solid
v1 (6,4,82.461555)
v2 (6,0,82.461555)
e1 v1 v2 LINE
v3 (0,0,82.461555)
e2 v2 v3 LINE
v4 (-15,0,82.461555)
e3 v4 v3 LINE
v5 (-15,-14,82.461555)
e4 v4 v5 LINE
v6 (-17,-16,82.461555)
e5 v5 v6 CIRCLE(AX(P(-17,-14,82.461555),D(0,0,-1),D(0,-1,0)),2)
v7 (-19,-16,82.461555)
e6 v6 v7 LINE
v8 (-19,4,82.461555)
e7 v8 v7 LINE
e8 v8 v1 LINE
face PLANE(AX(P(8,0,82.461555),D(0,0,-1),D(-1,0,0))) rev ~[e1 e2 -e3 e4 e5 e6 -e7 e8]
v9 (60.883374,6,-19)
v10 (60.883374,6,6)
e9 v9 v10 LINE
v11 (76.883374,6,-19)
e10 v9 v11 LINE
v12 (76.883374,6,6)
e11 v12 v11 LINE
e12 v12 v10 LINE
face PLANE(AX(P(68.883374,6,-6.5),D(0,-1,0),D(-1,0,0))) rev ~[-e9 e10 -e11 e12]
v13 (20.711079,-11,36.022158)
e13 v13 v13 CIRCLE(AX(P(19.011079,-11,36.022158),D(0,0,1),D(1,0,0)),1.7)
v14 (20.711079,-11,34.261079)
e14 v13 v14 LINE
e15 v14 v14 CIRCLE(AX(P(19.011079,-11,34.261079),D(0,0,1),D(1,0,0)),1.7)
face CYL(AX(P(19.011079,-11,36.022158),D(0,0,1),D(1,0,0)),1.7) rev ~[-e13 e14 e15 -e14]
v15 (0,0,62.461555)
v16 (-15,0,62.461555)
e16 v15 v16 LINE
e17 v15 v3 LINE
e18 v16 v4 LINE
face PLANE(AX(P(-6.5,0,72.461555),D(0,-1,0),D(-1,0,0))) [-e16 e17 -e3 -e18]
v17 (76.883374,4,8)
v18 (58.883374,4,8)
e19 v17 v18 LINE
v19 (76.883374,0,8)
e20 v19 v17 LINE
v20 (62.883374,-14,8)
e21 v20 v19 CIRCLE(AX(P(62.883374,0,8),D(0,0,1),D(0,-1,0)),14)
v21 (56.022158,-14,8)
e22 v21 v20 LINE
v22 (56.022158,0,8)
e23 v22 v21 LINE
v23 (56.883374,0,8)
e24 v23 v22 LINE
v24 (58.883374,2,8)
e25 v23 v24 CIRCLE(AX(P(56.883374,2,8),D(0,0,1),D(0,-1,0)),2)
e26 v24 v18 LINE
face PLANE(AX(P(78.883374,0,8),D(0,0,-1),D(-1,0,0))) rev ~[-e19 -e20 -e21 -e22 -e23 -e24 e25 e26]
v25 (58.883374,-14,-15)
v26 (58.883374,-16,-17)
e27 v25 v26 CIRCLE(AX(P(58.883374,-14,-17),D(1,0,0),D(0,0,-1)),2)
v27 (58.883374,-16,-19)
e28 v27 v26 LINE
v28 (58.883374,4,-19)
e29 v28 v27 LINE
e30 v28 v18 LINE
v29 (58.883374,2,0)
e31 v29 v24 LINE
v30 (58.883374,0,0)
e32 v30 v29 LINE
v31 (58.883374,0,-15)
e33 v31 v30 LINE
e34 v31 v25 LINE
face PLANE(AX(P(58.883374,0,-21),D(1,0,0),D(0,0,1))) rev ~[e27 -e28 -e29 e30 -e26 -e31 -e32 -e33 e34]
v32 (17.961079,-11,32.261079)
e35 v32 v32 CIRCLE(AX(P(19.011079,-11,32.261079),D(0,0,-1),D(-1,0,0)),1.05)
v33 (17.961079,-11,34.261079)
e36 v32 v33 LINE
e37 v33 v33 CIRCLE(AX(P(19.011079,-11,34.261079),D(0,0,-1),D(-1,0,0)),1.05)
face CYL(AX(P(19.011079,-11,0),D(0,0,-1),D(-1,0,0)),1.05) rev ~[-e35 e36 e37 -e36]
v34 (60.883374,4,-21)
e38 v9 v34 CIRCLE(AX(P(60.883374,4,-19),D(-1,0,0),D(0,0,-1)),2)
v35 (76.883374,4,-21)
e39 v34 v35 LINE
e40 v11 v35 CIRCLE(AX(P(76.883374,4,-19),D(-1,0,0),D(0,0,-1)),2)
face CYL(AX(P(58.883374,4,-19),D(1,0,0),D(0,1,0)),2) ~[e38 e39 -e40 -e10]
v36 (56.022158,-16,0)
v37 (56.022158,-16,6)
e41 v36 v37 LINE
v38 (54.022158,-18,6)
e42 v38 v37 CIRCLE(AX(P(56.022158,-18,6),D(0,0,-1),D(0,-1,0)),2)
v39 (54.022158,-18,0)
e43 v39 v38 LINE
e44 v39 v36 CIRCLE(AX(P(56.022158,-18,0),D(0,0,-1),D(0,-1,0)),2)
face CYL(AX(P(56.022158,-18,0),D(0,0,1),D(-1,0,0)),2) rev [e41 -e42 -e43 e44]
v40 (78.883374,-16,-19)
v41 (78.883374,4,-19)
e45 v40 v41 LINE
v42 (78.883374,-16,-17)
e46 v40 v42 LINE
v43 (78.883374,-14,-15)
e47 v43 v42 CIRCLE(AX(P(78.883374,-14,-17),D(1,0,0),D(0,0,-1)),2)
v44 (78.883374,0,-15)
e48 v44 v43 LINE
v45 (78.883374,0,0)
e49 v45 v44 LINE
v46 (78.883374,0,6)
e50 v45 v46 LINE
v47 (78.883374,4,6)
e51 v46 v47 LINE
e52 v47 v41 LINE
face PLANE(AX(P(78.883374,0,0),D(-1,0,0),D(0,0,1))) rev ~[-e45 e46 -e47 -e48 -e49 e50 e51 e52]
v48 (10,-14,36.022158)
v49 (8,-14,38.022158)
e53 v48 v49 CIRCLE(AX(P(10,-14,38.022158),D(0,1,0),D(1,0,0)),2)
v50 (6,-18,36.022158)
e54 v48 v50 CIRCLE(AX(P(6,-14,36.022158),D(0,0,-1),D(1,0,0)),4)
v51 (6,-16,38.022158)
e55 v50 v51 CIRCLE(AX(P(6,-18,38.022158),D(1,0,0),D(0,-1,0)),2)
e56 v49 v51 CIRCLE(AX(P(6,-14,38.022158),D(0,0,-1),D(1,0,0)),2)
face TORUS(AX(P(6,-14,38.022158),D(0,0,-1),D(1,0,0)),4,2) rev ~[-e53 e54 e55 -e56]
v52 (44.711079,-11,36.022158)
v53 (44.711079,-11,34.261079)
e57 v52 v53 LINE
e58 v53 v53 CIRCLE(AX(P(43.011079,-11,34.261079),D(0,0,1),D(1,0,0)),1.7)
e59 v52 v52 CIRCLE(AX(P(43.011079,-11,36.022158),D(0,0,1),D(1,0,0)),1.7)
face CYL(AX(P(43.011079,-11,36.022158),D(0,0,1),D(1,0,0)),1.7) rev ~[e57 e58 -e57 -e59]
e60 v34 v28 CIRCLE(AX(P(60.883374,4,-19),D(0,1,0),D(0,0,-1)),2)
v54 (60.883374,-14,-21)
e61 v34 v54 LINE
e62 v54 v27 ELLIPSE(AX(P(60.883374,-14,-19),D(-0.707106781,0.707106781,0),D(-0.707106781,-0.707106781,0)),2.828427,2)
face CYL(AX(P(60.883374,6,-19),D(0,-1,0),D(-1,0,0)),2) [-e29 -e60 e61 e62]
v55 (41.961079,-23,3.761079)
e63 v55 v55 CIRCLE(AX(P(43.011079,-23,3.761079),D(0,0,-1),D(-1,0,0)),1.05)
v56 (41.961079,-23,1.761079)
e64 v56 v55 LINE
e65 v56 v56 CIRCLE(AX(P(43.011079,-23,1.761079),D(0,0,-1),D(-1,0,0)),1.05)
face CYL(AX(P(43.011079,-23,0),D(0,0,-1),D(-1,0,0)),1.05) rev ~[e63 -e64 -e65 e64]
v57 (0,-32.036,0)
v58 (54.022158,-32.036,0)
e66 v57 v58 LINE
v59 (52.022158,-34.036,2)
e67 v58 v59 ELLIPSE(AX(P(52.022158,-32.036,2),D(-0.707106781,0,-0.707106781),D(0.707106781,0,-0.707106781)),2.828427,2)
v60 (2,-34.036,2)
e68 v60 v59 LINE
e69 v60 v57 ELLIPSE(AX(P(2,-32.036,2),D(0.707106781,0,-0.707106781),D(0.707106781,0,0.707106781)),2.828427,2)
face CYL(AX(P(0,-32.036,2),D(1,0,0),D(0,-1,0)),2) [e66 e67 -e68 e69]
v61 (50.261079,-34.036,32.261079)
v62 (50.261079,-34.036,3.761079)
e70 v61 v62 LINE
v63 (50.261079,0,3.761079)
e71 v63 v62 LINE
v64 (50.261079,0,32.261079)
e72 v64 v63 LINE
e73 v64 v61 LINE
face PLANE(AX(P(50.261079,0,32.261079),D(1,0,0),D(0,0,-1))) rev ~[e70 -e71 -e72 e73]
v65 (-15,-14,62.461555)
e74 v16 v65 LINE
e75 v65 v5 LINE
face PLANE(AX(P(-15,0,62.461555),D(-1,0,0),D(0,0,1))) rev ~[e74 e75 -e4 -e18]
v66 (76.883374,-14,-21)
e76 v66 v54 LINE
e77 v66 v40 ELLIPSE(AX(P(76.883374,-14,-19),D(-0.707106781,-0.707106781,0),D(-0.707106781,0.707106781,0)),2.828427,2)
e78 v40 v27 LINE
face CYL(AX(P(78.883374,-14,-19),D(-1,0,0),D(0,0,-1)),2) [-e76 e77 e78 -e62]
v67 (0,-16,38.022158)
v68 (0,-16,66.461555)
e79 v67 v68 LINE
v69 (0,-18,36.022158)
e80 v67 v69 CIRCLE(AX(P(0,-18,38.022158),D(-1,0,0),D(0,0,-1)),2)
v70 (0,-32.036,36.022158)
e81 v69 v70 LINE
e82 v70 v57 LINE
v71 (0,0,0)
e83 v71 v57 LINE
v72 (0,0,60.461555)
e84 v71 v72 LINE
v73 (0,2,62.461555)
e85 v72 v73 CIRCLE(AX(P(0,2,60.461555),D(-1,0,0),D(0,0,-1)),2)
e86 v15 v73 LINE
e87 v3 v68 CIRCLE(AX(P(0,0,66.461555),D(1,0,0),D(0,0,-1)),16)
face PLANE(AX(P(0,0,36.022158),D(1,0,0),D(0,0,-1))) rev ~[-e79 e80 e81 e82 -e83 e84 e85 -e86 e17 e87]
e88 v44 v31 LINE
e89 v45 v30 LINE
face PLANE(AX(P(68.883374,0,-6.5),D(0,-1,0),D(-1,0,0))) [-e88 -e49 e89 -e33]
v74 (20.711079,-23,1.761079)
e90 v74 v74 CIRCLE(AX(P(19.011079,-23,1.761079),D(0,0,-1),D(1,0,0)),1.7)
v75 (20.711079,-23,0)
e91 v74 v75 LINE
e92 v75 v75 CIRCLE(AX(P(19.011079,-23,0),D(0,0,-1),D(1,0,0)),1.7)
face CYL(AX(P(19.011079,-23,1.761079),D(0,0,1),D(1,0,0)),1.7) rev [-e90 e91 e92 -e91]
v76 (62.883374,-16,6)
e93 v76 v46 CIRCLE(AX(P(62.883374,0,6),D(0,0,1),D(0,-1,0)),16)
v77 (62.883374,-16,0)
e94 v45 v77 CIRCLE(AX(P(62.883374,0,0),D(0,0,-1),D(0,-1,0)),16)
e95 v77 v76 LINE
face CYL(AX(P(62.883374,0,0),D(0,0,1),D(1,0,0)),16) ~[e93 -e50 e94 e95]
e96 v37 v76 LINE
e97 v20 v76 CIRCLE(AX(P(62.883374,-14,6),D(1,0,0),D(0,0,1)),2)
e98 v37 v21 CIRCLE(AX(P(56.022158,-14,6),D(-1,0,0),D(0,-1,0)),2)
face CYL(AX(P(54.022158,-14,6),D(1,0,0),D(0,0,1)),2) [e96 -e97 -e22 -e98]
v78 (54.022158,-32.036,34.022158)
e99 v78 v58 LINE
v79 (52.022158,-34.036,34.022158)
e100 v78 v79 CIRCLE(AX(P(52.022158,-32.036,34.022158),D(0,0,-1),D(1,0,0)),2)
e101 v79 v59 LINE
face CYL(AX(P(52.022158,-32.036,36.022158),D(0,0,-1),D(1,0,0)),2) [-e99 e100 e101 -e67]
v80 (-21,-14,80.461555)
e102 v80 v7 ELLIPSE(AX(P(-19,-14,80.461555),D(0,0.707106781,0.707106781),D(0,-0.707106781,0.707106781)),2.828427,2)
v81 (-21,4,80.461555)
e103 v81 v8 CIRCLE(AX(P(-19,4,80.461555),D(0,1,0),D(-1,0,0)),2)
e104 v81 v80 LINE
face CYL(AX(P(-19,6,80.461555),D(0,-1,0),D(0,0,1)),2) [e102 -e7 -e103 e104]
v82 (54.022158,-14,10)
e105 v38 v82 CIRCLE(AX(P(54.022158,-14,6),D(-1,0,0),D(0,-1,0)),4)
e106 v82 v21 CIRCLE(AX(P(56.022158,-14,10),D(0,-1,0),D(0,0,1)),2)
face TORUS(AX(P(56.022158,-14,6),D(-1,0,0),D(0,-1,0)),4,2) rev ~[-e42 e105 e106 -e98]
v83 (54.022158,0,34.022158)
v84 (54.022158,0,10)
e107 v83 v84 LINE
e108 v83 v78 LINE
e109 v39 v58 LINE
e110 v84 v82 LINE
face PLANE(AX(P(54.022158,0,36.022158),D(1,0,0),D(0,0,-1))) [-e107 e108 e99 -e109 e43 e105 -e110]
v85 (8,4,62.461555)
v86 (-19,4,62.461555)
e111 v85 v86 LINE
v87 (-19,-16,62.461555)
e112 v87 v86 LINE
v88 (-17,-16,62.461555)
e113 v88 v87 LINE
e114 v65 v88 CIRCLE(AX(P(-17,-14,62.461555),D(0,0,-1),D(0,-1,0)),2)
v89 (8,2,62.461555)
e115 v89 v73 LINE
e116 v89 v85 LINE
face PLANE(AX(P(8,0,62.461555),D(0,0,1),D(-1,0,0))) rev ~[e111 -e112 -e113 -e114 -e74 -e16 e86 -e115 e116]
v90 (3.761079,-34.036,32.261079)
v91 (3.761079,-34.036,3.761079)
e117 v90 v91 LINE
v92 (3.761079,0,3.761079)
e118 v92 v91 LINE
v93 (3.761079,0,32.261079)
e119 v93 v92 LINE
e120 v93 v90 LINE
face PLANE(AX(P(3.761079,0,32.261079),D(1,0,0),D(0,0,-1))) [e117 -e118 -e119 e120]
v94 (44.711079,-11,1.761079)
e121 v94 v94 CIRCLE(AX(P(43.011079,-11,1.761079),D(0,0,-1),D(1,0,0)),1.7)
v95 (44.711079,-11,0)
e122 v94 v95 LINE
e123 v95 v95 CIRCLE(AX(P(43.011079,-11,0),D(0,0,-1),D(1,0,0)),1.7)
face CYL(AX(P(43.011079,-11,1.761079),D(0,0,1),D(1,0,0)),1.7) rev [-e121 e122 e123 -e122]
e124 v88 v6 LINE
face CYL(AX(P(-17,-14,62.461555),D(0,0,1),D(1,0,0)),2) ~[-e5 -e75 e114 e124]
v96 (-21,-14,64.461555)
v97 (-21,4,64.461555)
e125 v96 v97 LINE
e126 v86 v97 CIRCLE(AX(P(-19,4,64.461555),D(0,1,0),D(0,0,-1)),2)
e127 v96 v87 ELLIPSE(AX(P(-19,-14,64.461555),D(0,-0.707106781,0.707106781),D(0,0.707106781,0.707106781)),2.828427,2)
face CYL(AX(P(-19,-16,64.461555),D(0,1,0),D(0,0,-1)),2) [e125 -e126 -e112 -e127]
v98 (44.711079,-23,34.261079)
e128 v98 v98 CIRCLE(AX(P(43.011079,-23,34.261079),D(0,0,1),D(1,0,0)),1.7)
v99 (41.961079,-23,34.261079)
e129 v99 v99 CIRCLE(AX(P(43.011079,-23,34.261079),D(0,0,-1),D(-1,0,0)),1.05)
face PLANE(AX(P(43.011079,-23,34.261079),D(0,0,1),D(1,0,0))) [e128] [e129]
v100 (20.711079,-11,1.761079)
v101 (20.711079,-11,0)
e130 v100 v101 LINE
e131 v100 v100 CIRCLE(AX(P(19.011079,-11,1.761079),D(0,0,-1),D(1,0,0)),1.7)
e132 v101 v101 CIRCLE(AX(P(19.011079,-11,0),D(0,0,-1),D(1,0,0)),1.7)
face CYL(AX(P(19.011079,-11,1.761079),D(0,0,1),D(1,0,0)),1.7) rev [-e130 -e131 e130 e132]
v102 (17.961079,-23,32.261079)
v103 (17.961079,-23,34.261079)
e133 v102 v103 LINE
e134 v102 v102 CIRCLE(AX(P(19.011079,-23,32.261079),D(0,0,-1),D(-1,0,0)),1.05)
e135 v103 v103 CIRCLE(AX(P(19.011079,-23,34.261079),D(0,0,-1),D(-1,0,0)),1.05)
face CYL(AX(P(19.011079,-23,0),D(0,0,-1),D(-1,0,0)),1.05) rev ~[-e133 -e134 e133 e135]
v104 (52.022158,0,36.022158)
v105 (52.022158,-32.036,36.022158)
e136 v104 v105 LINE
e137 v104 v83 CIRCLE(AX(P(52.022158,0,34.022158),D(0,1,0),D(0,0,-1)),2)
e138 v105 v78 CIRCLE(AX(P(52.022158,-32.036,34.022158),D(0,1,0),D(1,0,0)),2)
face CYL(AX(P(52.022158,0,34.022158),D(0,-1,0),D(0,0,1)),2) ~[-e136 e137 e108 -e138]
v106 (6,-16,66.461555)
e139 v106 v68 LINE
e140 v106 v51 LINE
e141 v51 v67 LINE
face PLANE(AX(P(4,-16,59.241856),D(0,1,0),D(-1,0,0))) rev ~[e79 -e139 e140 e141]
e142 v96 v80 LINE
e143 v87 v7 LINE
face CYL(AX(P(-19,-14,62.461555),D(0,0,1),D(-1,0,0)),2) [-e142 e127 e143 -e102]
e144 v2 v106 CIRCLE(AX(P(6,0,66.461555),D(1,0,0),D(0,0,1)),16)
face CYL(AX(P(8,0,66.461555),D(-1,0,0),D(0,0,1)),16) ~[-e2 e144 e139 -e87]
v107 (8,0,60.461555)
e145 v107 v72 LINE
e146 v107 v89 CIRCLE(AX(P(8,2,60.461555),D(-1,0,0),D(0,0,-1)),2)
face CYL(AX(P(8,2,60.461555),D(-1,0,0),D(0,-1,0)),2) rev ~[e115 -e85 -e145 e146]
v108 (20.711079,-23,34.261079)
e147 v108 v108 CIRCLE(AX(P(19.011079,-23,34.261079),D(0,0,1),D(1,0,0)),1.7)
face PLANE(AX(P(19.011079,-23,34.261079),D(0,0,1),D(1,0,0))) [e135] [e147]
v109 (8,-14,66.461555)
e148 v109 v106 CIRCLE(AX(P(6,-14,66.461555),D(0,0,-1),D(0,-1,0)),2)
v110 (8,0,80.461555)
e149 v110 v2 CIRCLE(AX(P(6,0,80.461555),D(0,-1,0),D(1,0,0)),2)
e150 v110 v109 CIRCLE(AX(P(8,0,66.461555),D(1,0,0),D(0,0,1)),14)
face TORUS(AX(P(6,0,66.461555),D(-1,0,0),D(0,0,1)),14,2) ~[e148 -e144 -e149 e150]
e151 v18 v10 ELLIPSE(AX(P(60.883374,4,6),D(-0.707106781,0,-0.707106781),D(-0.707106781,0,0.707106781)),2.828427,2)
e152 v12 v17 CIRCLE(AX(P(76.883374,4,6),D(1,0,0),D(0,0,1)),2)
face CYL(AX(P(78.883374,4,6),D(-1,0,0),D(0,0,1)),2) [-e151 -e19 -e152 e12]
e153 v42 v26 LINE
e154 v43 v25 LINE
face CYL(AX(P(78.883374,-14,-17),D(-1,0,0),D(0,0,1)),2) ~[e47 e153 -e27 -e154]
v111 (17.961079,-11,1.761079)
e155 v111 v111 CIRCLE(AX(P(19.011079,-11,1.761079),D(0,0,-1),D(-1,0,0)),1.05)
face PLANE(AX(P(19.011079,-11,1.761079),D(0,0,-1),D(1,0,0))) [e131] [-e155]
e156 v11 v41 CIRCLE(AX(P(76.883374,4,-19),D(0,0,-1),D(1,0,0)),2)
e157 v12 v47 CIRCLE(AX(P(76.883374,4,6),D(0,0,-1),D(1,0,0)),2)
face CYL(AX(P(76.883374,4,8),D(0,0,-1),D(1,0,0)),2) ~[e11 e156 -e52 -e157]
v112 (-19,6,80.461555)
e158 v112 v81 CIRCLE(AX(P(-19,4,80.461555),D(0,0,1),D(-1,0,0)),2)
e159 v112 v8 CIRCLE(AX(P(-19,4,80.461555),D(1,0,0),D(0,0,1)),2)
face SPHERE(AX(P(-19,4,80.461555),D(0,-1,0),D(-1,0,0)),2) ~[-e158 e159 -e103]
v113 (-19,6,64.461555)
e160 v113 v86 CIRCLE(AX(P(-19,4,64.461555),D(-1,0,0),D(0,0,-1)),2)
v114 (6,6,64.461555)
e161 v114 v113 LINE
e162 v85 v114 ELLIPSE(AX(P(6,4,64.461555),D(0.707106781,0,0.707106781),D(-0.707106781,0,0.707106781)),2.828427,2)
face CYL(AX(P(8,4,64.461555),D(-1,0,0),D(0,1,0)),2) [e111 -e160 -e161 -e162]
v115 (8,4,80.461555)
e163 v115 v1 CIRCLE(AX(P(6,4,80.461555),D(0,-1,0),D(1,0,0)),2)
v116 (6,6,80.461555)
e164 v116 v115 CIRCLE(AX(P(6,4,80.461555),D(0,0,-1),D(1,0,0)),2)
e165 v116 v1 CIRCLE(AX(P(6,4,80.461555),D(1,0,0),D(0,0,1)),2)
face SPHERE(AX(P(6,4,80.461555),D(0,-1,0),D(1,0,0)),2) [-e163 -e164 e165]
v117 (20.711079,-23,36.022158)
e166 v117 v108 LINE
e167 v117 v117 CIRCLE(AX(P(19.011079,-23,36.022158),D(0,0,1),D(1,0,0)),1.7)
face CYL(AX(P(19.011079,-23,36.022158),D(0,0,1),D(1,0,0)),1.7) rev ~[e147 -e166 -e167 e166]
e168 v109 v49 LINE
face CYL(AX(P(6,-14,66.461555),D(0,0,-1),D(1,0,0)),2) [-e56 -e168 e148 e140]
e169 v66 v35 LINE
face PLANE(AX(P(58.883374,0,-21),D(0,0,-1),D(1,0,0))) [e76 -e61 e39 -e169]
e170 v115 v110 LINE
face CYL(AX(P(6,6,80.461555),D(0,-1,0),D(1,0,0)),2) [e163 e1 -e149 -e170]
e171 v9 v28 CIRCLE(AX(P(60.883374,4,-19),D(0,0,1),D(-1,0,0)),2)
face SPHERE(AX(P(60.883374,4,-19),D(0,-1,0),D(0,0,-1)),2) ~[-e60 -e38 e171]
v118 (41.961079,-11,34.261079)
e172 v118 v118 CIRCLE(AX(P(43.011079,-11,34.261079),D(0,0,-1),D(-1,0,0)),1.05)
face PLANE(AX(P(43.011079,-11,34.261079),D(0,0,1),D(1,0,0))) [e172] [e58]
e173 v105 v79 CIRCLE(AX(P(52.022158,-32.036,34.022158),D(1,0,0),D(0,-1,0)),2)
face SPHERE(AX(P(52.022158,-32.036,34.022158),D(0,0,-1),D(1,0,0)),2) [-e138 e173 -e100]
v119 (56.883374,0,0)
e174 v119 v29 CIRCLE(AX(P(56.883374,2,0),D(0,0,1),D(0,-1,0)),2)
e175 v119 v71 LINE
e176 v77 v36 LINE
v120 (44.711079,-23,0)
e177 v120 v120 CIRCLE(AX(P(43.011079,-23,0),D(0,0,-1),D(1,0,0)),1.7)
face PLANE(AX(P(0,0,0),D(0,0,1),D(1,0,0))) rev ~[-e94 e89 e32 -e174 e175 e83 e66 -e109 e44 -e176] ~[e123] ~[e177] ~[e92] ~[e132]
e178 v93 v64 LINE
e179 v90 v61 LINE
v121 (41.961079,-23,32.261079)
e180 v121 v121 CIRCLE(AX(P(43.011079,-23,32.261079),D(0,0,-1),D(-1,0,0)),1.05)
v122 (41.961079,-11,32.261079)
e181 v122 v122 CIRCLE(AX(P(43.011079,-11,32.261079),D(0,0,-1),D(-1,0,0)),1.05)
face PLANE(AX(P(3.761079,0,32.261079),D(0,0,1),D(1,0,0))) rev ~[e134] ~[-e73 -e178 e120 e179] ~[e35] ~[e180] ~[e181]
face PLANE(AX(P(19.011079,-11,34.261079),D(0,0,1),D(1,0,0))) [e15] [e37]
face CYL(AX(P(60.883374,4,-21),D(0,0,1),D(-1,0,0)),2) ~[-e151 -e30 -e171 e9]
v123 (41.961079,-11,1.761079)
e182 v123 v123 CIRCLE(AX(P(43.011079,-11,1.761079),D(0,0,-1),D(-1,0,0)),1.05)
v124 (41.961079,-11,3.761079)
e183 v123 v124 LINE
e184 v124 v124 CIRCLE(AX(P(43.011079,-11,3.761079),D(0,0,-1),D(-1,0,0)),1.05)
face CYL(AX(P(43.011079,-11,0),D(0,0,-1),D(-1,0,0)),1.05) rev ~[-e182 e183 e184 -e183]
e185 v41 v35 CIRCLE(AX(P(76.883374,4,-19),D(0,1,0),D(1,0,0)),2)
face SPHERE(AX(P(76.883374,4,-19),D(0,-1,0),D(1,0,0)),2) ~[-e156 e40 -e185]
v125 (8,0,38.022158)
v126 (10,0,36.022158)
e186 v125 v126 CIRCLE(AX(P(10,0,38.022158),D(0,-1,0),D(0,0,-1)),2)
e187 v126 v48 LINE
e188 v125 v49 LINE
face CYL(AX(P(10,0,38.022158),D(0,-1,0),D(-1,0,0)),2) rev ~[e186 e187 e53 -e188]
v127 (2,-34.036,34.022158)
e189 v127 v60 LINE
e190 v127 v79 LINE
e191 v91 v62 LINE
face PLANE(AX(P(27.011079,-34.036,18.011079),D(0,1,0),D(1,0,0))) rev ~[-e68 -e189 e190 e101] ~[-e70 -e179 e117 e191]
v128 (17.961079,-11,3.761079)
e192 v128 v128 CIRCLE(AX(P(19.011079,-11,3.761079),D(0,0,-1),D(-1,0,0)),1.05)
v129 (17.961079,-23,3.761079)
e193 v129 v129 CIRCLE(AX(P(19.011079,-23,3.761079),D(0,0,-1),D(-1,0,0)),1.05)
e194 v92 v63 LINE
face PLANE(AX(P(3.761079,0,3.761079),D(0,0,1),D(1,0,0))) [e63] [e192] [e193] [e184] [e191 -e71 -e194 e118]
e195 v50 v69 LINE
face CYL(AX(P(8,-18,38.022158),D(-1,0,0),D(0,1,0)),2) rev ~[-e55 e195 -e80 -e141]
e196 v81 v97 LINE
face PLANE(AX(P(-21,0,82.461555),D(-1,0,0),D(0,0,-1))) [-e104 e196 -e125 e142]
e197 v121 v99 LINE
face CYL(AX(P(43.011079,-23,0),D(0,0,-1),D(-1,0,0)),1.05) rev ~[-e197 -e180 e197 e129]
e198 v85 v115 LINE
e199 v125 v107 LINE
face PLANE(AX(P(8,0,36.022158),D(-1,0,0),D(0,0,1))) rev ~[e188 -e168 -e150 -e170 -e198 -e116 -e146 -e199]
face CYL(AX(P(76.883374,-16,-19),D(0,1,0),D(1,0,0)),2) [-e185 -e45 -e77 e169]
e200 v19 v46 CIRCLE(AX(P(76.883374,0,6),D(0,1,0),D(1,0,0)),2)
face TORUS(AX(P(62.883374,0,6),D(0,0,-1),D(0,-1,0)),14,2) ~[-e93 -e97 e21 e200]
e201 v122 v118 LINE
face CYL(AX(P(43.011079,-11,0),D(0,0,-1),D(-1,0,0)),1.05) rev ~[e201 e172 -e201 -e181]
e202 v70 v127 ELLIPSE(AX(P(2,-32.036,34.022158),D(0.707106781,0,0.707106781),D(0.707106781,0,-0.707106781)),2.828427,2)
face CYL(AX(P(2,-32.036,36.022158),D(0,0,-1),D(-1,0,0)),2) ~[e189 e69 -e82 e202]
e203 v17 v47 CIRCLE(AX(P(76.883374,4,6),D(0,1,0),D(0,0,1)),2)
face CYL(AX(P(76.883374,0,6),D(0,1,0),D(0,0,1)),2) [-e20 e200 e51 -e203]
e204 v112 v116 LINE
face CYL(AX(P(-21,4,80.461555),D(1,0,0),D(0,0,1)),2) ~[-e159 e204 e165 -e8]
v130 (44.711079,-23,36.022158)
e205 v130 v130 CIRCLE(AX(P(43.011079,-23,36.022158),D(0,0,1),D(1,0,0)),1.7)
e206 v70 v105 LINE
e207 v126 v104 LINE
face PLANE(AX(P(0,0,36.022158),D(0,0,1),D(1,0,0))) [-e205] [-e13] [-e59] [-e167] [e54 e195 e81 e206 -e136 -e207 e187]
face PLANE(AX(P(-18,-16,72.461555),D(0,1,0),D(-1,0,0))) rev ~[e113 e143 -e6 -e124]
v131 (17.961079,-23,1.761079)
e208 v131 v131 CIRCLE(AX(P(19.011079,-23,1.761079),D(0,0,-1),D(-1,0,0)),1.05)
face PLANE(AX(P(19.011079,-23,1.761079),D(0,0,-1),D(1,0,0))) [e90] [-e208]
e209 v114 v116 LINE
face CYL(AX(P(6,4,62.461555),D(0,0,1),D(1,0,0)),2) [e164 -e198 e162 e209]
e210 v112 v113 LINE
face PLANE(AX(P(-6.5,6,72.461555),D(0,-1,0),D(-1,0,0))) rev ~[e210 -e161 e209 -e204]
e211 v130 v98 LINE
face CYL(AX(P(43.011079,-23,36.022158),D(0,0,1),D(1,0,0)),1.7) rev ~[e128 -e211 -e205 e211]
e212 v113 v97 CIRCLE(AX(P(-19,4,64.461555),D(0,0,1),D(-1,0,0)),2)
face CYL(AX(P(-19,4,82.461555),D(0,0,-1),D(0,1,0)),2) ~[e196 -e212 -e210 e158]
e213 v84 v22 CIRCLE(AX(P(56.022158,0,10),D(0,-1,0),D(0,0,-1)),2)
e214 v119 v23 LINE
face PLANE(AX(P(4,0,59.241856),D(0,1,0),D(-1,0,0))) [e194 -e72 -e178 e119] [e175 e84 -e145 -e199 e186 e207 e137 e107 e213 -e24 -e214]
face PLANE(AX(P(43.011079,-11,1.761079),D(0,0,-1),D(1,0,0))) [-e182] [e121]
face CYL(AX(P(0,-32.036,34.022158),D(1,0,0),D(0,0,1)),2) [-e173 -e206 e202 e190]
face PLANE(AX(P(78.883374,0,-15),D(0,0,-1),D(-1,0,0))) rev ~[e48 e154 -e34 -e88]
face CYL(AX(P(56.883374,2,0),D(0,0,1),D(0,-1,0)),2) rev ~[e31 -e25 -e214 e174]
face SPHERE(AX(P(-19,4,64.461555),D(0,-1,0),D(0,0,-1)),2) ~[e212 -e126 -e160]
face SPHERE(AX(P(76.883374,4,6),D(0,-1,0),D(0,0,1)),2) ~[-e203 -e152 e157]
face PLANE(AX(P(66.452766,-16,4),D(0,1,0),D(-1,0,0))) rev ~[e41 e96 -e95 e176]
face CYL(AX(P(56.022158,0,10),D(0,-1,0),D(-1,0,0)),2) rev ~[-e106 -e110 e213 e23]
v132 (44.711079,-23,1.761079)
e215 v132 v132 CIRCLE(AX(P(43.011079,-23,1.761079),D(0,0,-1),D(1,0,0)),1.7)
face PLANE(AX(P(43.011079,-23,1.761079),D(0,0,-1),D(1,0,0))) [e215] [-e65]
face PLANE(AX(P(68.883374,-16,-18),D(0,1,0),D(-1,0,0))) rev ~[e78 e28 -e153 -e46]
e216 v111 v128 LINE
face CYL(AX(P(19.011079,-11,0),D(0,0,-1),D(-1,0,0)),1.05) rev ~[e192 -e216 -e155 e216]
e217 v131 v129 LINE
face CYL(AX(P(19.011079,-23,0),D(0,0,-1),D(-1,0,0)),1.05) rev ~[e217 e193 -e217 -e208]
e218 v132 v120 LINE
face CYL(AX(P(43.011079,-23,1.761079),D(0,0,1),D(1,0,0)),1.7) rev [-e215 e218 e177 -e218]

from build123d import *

# Parameters (mm, degrees)
SKETCH2_W             = 54.022158158
SKETCH2_H             = 36.022158158
SKETCH2_W_2           = 46.5
SKETCH2_H_2           = 28.5
BOSS_EXTRUDE1_DEPTH   = 34.036
SKETCH11_R            = 1.049999932
CUT_EXTRUDE1_DEPTH    = 74.310563675
BOSS_EXTRUDE3_DEPTH   = 6
BOSS_EXTRUDE3_2_DEPTH = 6
SKETCH19_W            = 8
SKETCH19_H            = 46.439396398
SKETCH19_W_2          = 24.86121623
SKETCH19_H_2          = 8
SKETCH19_W_3          = 6
SKETCH19_H_3          = 20
SKETCH19_W_4          = 20
SKETCH19_H_4          = 6
BOSS_EXTRUDE10_DEPTH  = 16
FILLET6_R             = 16
FILLET7_R             = 2
SKETCH21_R            = 1.7
CUT_EXTRUDE2_DEPTH    = 1.761079079
CUT_EXTRUDE3_START    = -1.761079079
SKETCH22_R            = 1.7
CUT_EXTRUDE3_DEPTH    = 1.761079079


with BuildPart() as part:
    # Sketch2 → Boss-Extrude1 (new body)
    with BuildSketch(Plane(origin=(0, 0, 0), x_dir=(1, 0, 0), z_dir=(0, 1, 0))):
        with Locations((27.011079079, -18.011079079)):
            Rectangle(SKETCH2_W, SKETCH2_H)
        with Locations((27.011079079, -18.011079079)):
            Rectangle(SKETCH2_W_2, SKETCH2_H_2, mode=Mode.SUBTRACT)
    extrude(amount=-BOSS_EXTRUDE1_DEPTH)

    # Sketch11 → Cut-Extrude1 (cut, through all)
    with BuildSketch(Plane(origin=(0, 0, 0), x_dir=(-1, 0, 0), z_dir=(0, 0, -1))):
        with Locations((-19.011079079, -11)):
            Circle(SKETCH11_R)
        with Locations((-19.011079079, -23)):
            Circle(SKETCH11_R)
        with Locations((-43.01107908, -11)):
            Circle(SKETCH11_R)
        with Locations((-43.011079079, -23)):
            Circle(SKETCH11_R)
    extrude(amount=-CUT_EXTRUDE1_DEPTH, mode=Mode.SUBTRACT)



with BuildPart() as body_2:
    # Sketch12 → Boss-Extrude3 (new body)
    with BuildSketch(Plane(origin=(0, 0, 0), x_dir=(1, 0, 0), z_dir=(0, 1, 0))):
        Polygon((0, -82.461554556), (-15, -82.461554556), (-21, -82.461554556), (-21, -62.461554556), (-15, -62.461554556), (0, -62.461554556), (8, -62.461554556), (8, -82.461554556), align=None)
    extrude(amount=BOSS_EXTRUDE3_DEPTH)


with BuildPart() as body_3:
    # Sketch12 → Boss-Extrude3 2 (new body)
    with BuildSketch(Plane(origin=(0, 0, 0), x_dir=(1, 0, 0), z_dir=(0, 1, 0))):
        Polygon((58.883374388, -8), (58.883374388, 0), (58.883374388, 15), (58.883374388, 21), (78.883374388, 21), (78.883374388, 15), (78.883374388, 0), (78.883374388, -8), align=None)
    extrude(amount=BOSS_EXTRUDE3_2_DEPTH)


with BuildPart() as part_1:
    add(part.part)

    add(body_2.part)  # Boss-Extrude10 merges body 2

    add(body_3.part)  # Boss-Extrude10 merges body 3
    # Sketch19 → Boss-Extrude10 (add)
    with BuildSketch(Plane(origin=(0, 0, 0), x_dir=(-1, 0, 0), z_dir=(0, 1, 0))):
        with Locations((-4, 59.241856357)):
            Rectangle(SKETCH19_W, SKETCH19_H)
        with Locations((-66.452766273, 4)):
            Rectangle(SKETCH19_W_2, SKETCH19_H_2)
        with Locations((18, 72.461554556)):
            Rectangle(SKETCH19_W_3, SKETCH19_H_3)
        with Locations((-68.883374388, -18)):
            Rectangle(SKETCH19_W_4, SKETCH19_H_4)
    extrude(amount=-BOSS_EXTRUDE10_DEPTH)

    # Fillet6
    fillet6_edges = [part_1.edges().sort_by_distance(p)[0] for p in [
        (78.883374388, -16, 4),
        (4, -16, 82.461554556),
    ]]
    fillet(fillet6_edges, radius=FILLET6_R)

    # Fillet7
    fillet7_edges = [part_1.edges().sort_by_distance(p)[0] for p in [
        (-21, -16, 72.461554556),
        (-15, -16, 72.461554556),
        (68.883374388, -16, -21),
        (68.883374388, -16, -15),
        (78.883374388, 3, 8),
        (54.022158158, -34.036, 18.011079079),
        (74.197082887, -11.313708499, 8),
        (8, 3, 82.461554556),
        (8, -16, 51.241856357),
        (8, -11.313708499, 77.775263055),
        (27.011079079, -34.036, 0),
        (0, -34.036, 18.011079079),
        (8, -8, 36.022158158),
        (4, -16, 36.022158158),
        (4, 0, 62.461554556),
        (-21, -5, 62.461554556),
        (-21, -5, 82.461554556),
        (8, 6, 72.461554556),
        (-6.5, 6, 62.461554556),
        (-21, 6, 72.461554556),
        (-6.5, 6, 82.461554556),
        (54.022158158, -17.018, 36.022158158),
        (58.452766273, -16, 8),
        (54.022158158, -16, 4),
        (54.022158158, -8, 8),
        (27.011079079, -34.036, 36.022158158),
        (78.883374388, -5, -21),
        (58.883374388, 0, 4),
        (58.883374388, -5, -21),
        (68.883374388, 6, 8),
        (78.883374388, 6, -6.5),
        (68.883374388, 6, -21),
        (58.883374388, 6, -6.5),
    ]]
    fillet(fillet7_edges, radius=FILLET7_R)

    # Sketch21 → Cut-Extrude2 (cut)
    with BuildSketch(Plane.XY.offset(36.022158158)):
        with Locations((19.011079079, -11)):
            Circle(SKETCH21_R)
        with Locations((43.01107908, -11)):
            Circle(SKETCH21_R)
        with Locations((19.011079079, -23)):
            Circle(SKETCH21_R)
        with Locations((43.011079079, -23)):
            Circle(SKETCH21_R)
    extrude(amount=-CUT_EXTRUDE2_DEPTH, mode=Mode.SUBTRACT)

    # Sketch22 → Cut-Extrude3 (cut)
    with BuildSketch(Plane(origin=(0, 0, 0), x_dir=(-1, 0, 0), z_dir=(0, 0, -1)).offset(CUT_EXTRUDE3_START)):
        with Locations(Location((-43.01107908, -11, 0), (0, 0, 180))):
            Circle(SKETCH22_R)
        with Locations(Location((-43.011079079, -23, 0), (0, 0, 180))):
            Circle(SKETCH22_R)
        with Locations(Location((-19.011079079, -11, 0), (0, 0, 180))):
            Circle(SKETCH22_R)
        with Locations(Location((-19.011079079, -23, 0), (0, 0, 180))):
            Circle(SKETCH22_R)
    extrude(amount=CUT_EXTRUDE3_DEPTH, mode=Mode.SUBTRACT)


solid = part_1.part
